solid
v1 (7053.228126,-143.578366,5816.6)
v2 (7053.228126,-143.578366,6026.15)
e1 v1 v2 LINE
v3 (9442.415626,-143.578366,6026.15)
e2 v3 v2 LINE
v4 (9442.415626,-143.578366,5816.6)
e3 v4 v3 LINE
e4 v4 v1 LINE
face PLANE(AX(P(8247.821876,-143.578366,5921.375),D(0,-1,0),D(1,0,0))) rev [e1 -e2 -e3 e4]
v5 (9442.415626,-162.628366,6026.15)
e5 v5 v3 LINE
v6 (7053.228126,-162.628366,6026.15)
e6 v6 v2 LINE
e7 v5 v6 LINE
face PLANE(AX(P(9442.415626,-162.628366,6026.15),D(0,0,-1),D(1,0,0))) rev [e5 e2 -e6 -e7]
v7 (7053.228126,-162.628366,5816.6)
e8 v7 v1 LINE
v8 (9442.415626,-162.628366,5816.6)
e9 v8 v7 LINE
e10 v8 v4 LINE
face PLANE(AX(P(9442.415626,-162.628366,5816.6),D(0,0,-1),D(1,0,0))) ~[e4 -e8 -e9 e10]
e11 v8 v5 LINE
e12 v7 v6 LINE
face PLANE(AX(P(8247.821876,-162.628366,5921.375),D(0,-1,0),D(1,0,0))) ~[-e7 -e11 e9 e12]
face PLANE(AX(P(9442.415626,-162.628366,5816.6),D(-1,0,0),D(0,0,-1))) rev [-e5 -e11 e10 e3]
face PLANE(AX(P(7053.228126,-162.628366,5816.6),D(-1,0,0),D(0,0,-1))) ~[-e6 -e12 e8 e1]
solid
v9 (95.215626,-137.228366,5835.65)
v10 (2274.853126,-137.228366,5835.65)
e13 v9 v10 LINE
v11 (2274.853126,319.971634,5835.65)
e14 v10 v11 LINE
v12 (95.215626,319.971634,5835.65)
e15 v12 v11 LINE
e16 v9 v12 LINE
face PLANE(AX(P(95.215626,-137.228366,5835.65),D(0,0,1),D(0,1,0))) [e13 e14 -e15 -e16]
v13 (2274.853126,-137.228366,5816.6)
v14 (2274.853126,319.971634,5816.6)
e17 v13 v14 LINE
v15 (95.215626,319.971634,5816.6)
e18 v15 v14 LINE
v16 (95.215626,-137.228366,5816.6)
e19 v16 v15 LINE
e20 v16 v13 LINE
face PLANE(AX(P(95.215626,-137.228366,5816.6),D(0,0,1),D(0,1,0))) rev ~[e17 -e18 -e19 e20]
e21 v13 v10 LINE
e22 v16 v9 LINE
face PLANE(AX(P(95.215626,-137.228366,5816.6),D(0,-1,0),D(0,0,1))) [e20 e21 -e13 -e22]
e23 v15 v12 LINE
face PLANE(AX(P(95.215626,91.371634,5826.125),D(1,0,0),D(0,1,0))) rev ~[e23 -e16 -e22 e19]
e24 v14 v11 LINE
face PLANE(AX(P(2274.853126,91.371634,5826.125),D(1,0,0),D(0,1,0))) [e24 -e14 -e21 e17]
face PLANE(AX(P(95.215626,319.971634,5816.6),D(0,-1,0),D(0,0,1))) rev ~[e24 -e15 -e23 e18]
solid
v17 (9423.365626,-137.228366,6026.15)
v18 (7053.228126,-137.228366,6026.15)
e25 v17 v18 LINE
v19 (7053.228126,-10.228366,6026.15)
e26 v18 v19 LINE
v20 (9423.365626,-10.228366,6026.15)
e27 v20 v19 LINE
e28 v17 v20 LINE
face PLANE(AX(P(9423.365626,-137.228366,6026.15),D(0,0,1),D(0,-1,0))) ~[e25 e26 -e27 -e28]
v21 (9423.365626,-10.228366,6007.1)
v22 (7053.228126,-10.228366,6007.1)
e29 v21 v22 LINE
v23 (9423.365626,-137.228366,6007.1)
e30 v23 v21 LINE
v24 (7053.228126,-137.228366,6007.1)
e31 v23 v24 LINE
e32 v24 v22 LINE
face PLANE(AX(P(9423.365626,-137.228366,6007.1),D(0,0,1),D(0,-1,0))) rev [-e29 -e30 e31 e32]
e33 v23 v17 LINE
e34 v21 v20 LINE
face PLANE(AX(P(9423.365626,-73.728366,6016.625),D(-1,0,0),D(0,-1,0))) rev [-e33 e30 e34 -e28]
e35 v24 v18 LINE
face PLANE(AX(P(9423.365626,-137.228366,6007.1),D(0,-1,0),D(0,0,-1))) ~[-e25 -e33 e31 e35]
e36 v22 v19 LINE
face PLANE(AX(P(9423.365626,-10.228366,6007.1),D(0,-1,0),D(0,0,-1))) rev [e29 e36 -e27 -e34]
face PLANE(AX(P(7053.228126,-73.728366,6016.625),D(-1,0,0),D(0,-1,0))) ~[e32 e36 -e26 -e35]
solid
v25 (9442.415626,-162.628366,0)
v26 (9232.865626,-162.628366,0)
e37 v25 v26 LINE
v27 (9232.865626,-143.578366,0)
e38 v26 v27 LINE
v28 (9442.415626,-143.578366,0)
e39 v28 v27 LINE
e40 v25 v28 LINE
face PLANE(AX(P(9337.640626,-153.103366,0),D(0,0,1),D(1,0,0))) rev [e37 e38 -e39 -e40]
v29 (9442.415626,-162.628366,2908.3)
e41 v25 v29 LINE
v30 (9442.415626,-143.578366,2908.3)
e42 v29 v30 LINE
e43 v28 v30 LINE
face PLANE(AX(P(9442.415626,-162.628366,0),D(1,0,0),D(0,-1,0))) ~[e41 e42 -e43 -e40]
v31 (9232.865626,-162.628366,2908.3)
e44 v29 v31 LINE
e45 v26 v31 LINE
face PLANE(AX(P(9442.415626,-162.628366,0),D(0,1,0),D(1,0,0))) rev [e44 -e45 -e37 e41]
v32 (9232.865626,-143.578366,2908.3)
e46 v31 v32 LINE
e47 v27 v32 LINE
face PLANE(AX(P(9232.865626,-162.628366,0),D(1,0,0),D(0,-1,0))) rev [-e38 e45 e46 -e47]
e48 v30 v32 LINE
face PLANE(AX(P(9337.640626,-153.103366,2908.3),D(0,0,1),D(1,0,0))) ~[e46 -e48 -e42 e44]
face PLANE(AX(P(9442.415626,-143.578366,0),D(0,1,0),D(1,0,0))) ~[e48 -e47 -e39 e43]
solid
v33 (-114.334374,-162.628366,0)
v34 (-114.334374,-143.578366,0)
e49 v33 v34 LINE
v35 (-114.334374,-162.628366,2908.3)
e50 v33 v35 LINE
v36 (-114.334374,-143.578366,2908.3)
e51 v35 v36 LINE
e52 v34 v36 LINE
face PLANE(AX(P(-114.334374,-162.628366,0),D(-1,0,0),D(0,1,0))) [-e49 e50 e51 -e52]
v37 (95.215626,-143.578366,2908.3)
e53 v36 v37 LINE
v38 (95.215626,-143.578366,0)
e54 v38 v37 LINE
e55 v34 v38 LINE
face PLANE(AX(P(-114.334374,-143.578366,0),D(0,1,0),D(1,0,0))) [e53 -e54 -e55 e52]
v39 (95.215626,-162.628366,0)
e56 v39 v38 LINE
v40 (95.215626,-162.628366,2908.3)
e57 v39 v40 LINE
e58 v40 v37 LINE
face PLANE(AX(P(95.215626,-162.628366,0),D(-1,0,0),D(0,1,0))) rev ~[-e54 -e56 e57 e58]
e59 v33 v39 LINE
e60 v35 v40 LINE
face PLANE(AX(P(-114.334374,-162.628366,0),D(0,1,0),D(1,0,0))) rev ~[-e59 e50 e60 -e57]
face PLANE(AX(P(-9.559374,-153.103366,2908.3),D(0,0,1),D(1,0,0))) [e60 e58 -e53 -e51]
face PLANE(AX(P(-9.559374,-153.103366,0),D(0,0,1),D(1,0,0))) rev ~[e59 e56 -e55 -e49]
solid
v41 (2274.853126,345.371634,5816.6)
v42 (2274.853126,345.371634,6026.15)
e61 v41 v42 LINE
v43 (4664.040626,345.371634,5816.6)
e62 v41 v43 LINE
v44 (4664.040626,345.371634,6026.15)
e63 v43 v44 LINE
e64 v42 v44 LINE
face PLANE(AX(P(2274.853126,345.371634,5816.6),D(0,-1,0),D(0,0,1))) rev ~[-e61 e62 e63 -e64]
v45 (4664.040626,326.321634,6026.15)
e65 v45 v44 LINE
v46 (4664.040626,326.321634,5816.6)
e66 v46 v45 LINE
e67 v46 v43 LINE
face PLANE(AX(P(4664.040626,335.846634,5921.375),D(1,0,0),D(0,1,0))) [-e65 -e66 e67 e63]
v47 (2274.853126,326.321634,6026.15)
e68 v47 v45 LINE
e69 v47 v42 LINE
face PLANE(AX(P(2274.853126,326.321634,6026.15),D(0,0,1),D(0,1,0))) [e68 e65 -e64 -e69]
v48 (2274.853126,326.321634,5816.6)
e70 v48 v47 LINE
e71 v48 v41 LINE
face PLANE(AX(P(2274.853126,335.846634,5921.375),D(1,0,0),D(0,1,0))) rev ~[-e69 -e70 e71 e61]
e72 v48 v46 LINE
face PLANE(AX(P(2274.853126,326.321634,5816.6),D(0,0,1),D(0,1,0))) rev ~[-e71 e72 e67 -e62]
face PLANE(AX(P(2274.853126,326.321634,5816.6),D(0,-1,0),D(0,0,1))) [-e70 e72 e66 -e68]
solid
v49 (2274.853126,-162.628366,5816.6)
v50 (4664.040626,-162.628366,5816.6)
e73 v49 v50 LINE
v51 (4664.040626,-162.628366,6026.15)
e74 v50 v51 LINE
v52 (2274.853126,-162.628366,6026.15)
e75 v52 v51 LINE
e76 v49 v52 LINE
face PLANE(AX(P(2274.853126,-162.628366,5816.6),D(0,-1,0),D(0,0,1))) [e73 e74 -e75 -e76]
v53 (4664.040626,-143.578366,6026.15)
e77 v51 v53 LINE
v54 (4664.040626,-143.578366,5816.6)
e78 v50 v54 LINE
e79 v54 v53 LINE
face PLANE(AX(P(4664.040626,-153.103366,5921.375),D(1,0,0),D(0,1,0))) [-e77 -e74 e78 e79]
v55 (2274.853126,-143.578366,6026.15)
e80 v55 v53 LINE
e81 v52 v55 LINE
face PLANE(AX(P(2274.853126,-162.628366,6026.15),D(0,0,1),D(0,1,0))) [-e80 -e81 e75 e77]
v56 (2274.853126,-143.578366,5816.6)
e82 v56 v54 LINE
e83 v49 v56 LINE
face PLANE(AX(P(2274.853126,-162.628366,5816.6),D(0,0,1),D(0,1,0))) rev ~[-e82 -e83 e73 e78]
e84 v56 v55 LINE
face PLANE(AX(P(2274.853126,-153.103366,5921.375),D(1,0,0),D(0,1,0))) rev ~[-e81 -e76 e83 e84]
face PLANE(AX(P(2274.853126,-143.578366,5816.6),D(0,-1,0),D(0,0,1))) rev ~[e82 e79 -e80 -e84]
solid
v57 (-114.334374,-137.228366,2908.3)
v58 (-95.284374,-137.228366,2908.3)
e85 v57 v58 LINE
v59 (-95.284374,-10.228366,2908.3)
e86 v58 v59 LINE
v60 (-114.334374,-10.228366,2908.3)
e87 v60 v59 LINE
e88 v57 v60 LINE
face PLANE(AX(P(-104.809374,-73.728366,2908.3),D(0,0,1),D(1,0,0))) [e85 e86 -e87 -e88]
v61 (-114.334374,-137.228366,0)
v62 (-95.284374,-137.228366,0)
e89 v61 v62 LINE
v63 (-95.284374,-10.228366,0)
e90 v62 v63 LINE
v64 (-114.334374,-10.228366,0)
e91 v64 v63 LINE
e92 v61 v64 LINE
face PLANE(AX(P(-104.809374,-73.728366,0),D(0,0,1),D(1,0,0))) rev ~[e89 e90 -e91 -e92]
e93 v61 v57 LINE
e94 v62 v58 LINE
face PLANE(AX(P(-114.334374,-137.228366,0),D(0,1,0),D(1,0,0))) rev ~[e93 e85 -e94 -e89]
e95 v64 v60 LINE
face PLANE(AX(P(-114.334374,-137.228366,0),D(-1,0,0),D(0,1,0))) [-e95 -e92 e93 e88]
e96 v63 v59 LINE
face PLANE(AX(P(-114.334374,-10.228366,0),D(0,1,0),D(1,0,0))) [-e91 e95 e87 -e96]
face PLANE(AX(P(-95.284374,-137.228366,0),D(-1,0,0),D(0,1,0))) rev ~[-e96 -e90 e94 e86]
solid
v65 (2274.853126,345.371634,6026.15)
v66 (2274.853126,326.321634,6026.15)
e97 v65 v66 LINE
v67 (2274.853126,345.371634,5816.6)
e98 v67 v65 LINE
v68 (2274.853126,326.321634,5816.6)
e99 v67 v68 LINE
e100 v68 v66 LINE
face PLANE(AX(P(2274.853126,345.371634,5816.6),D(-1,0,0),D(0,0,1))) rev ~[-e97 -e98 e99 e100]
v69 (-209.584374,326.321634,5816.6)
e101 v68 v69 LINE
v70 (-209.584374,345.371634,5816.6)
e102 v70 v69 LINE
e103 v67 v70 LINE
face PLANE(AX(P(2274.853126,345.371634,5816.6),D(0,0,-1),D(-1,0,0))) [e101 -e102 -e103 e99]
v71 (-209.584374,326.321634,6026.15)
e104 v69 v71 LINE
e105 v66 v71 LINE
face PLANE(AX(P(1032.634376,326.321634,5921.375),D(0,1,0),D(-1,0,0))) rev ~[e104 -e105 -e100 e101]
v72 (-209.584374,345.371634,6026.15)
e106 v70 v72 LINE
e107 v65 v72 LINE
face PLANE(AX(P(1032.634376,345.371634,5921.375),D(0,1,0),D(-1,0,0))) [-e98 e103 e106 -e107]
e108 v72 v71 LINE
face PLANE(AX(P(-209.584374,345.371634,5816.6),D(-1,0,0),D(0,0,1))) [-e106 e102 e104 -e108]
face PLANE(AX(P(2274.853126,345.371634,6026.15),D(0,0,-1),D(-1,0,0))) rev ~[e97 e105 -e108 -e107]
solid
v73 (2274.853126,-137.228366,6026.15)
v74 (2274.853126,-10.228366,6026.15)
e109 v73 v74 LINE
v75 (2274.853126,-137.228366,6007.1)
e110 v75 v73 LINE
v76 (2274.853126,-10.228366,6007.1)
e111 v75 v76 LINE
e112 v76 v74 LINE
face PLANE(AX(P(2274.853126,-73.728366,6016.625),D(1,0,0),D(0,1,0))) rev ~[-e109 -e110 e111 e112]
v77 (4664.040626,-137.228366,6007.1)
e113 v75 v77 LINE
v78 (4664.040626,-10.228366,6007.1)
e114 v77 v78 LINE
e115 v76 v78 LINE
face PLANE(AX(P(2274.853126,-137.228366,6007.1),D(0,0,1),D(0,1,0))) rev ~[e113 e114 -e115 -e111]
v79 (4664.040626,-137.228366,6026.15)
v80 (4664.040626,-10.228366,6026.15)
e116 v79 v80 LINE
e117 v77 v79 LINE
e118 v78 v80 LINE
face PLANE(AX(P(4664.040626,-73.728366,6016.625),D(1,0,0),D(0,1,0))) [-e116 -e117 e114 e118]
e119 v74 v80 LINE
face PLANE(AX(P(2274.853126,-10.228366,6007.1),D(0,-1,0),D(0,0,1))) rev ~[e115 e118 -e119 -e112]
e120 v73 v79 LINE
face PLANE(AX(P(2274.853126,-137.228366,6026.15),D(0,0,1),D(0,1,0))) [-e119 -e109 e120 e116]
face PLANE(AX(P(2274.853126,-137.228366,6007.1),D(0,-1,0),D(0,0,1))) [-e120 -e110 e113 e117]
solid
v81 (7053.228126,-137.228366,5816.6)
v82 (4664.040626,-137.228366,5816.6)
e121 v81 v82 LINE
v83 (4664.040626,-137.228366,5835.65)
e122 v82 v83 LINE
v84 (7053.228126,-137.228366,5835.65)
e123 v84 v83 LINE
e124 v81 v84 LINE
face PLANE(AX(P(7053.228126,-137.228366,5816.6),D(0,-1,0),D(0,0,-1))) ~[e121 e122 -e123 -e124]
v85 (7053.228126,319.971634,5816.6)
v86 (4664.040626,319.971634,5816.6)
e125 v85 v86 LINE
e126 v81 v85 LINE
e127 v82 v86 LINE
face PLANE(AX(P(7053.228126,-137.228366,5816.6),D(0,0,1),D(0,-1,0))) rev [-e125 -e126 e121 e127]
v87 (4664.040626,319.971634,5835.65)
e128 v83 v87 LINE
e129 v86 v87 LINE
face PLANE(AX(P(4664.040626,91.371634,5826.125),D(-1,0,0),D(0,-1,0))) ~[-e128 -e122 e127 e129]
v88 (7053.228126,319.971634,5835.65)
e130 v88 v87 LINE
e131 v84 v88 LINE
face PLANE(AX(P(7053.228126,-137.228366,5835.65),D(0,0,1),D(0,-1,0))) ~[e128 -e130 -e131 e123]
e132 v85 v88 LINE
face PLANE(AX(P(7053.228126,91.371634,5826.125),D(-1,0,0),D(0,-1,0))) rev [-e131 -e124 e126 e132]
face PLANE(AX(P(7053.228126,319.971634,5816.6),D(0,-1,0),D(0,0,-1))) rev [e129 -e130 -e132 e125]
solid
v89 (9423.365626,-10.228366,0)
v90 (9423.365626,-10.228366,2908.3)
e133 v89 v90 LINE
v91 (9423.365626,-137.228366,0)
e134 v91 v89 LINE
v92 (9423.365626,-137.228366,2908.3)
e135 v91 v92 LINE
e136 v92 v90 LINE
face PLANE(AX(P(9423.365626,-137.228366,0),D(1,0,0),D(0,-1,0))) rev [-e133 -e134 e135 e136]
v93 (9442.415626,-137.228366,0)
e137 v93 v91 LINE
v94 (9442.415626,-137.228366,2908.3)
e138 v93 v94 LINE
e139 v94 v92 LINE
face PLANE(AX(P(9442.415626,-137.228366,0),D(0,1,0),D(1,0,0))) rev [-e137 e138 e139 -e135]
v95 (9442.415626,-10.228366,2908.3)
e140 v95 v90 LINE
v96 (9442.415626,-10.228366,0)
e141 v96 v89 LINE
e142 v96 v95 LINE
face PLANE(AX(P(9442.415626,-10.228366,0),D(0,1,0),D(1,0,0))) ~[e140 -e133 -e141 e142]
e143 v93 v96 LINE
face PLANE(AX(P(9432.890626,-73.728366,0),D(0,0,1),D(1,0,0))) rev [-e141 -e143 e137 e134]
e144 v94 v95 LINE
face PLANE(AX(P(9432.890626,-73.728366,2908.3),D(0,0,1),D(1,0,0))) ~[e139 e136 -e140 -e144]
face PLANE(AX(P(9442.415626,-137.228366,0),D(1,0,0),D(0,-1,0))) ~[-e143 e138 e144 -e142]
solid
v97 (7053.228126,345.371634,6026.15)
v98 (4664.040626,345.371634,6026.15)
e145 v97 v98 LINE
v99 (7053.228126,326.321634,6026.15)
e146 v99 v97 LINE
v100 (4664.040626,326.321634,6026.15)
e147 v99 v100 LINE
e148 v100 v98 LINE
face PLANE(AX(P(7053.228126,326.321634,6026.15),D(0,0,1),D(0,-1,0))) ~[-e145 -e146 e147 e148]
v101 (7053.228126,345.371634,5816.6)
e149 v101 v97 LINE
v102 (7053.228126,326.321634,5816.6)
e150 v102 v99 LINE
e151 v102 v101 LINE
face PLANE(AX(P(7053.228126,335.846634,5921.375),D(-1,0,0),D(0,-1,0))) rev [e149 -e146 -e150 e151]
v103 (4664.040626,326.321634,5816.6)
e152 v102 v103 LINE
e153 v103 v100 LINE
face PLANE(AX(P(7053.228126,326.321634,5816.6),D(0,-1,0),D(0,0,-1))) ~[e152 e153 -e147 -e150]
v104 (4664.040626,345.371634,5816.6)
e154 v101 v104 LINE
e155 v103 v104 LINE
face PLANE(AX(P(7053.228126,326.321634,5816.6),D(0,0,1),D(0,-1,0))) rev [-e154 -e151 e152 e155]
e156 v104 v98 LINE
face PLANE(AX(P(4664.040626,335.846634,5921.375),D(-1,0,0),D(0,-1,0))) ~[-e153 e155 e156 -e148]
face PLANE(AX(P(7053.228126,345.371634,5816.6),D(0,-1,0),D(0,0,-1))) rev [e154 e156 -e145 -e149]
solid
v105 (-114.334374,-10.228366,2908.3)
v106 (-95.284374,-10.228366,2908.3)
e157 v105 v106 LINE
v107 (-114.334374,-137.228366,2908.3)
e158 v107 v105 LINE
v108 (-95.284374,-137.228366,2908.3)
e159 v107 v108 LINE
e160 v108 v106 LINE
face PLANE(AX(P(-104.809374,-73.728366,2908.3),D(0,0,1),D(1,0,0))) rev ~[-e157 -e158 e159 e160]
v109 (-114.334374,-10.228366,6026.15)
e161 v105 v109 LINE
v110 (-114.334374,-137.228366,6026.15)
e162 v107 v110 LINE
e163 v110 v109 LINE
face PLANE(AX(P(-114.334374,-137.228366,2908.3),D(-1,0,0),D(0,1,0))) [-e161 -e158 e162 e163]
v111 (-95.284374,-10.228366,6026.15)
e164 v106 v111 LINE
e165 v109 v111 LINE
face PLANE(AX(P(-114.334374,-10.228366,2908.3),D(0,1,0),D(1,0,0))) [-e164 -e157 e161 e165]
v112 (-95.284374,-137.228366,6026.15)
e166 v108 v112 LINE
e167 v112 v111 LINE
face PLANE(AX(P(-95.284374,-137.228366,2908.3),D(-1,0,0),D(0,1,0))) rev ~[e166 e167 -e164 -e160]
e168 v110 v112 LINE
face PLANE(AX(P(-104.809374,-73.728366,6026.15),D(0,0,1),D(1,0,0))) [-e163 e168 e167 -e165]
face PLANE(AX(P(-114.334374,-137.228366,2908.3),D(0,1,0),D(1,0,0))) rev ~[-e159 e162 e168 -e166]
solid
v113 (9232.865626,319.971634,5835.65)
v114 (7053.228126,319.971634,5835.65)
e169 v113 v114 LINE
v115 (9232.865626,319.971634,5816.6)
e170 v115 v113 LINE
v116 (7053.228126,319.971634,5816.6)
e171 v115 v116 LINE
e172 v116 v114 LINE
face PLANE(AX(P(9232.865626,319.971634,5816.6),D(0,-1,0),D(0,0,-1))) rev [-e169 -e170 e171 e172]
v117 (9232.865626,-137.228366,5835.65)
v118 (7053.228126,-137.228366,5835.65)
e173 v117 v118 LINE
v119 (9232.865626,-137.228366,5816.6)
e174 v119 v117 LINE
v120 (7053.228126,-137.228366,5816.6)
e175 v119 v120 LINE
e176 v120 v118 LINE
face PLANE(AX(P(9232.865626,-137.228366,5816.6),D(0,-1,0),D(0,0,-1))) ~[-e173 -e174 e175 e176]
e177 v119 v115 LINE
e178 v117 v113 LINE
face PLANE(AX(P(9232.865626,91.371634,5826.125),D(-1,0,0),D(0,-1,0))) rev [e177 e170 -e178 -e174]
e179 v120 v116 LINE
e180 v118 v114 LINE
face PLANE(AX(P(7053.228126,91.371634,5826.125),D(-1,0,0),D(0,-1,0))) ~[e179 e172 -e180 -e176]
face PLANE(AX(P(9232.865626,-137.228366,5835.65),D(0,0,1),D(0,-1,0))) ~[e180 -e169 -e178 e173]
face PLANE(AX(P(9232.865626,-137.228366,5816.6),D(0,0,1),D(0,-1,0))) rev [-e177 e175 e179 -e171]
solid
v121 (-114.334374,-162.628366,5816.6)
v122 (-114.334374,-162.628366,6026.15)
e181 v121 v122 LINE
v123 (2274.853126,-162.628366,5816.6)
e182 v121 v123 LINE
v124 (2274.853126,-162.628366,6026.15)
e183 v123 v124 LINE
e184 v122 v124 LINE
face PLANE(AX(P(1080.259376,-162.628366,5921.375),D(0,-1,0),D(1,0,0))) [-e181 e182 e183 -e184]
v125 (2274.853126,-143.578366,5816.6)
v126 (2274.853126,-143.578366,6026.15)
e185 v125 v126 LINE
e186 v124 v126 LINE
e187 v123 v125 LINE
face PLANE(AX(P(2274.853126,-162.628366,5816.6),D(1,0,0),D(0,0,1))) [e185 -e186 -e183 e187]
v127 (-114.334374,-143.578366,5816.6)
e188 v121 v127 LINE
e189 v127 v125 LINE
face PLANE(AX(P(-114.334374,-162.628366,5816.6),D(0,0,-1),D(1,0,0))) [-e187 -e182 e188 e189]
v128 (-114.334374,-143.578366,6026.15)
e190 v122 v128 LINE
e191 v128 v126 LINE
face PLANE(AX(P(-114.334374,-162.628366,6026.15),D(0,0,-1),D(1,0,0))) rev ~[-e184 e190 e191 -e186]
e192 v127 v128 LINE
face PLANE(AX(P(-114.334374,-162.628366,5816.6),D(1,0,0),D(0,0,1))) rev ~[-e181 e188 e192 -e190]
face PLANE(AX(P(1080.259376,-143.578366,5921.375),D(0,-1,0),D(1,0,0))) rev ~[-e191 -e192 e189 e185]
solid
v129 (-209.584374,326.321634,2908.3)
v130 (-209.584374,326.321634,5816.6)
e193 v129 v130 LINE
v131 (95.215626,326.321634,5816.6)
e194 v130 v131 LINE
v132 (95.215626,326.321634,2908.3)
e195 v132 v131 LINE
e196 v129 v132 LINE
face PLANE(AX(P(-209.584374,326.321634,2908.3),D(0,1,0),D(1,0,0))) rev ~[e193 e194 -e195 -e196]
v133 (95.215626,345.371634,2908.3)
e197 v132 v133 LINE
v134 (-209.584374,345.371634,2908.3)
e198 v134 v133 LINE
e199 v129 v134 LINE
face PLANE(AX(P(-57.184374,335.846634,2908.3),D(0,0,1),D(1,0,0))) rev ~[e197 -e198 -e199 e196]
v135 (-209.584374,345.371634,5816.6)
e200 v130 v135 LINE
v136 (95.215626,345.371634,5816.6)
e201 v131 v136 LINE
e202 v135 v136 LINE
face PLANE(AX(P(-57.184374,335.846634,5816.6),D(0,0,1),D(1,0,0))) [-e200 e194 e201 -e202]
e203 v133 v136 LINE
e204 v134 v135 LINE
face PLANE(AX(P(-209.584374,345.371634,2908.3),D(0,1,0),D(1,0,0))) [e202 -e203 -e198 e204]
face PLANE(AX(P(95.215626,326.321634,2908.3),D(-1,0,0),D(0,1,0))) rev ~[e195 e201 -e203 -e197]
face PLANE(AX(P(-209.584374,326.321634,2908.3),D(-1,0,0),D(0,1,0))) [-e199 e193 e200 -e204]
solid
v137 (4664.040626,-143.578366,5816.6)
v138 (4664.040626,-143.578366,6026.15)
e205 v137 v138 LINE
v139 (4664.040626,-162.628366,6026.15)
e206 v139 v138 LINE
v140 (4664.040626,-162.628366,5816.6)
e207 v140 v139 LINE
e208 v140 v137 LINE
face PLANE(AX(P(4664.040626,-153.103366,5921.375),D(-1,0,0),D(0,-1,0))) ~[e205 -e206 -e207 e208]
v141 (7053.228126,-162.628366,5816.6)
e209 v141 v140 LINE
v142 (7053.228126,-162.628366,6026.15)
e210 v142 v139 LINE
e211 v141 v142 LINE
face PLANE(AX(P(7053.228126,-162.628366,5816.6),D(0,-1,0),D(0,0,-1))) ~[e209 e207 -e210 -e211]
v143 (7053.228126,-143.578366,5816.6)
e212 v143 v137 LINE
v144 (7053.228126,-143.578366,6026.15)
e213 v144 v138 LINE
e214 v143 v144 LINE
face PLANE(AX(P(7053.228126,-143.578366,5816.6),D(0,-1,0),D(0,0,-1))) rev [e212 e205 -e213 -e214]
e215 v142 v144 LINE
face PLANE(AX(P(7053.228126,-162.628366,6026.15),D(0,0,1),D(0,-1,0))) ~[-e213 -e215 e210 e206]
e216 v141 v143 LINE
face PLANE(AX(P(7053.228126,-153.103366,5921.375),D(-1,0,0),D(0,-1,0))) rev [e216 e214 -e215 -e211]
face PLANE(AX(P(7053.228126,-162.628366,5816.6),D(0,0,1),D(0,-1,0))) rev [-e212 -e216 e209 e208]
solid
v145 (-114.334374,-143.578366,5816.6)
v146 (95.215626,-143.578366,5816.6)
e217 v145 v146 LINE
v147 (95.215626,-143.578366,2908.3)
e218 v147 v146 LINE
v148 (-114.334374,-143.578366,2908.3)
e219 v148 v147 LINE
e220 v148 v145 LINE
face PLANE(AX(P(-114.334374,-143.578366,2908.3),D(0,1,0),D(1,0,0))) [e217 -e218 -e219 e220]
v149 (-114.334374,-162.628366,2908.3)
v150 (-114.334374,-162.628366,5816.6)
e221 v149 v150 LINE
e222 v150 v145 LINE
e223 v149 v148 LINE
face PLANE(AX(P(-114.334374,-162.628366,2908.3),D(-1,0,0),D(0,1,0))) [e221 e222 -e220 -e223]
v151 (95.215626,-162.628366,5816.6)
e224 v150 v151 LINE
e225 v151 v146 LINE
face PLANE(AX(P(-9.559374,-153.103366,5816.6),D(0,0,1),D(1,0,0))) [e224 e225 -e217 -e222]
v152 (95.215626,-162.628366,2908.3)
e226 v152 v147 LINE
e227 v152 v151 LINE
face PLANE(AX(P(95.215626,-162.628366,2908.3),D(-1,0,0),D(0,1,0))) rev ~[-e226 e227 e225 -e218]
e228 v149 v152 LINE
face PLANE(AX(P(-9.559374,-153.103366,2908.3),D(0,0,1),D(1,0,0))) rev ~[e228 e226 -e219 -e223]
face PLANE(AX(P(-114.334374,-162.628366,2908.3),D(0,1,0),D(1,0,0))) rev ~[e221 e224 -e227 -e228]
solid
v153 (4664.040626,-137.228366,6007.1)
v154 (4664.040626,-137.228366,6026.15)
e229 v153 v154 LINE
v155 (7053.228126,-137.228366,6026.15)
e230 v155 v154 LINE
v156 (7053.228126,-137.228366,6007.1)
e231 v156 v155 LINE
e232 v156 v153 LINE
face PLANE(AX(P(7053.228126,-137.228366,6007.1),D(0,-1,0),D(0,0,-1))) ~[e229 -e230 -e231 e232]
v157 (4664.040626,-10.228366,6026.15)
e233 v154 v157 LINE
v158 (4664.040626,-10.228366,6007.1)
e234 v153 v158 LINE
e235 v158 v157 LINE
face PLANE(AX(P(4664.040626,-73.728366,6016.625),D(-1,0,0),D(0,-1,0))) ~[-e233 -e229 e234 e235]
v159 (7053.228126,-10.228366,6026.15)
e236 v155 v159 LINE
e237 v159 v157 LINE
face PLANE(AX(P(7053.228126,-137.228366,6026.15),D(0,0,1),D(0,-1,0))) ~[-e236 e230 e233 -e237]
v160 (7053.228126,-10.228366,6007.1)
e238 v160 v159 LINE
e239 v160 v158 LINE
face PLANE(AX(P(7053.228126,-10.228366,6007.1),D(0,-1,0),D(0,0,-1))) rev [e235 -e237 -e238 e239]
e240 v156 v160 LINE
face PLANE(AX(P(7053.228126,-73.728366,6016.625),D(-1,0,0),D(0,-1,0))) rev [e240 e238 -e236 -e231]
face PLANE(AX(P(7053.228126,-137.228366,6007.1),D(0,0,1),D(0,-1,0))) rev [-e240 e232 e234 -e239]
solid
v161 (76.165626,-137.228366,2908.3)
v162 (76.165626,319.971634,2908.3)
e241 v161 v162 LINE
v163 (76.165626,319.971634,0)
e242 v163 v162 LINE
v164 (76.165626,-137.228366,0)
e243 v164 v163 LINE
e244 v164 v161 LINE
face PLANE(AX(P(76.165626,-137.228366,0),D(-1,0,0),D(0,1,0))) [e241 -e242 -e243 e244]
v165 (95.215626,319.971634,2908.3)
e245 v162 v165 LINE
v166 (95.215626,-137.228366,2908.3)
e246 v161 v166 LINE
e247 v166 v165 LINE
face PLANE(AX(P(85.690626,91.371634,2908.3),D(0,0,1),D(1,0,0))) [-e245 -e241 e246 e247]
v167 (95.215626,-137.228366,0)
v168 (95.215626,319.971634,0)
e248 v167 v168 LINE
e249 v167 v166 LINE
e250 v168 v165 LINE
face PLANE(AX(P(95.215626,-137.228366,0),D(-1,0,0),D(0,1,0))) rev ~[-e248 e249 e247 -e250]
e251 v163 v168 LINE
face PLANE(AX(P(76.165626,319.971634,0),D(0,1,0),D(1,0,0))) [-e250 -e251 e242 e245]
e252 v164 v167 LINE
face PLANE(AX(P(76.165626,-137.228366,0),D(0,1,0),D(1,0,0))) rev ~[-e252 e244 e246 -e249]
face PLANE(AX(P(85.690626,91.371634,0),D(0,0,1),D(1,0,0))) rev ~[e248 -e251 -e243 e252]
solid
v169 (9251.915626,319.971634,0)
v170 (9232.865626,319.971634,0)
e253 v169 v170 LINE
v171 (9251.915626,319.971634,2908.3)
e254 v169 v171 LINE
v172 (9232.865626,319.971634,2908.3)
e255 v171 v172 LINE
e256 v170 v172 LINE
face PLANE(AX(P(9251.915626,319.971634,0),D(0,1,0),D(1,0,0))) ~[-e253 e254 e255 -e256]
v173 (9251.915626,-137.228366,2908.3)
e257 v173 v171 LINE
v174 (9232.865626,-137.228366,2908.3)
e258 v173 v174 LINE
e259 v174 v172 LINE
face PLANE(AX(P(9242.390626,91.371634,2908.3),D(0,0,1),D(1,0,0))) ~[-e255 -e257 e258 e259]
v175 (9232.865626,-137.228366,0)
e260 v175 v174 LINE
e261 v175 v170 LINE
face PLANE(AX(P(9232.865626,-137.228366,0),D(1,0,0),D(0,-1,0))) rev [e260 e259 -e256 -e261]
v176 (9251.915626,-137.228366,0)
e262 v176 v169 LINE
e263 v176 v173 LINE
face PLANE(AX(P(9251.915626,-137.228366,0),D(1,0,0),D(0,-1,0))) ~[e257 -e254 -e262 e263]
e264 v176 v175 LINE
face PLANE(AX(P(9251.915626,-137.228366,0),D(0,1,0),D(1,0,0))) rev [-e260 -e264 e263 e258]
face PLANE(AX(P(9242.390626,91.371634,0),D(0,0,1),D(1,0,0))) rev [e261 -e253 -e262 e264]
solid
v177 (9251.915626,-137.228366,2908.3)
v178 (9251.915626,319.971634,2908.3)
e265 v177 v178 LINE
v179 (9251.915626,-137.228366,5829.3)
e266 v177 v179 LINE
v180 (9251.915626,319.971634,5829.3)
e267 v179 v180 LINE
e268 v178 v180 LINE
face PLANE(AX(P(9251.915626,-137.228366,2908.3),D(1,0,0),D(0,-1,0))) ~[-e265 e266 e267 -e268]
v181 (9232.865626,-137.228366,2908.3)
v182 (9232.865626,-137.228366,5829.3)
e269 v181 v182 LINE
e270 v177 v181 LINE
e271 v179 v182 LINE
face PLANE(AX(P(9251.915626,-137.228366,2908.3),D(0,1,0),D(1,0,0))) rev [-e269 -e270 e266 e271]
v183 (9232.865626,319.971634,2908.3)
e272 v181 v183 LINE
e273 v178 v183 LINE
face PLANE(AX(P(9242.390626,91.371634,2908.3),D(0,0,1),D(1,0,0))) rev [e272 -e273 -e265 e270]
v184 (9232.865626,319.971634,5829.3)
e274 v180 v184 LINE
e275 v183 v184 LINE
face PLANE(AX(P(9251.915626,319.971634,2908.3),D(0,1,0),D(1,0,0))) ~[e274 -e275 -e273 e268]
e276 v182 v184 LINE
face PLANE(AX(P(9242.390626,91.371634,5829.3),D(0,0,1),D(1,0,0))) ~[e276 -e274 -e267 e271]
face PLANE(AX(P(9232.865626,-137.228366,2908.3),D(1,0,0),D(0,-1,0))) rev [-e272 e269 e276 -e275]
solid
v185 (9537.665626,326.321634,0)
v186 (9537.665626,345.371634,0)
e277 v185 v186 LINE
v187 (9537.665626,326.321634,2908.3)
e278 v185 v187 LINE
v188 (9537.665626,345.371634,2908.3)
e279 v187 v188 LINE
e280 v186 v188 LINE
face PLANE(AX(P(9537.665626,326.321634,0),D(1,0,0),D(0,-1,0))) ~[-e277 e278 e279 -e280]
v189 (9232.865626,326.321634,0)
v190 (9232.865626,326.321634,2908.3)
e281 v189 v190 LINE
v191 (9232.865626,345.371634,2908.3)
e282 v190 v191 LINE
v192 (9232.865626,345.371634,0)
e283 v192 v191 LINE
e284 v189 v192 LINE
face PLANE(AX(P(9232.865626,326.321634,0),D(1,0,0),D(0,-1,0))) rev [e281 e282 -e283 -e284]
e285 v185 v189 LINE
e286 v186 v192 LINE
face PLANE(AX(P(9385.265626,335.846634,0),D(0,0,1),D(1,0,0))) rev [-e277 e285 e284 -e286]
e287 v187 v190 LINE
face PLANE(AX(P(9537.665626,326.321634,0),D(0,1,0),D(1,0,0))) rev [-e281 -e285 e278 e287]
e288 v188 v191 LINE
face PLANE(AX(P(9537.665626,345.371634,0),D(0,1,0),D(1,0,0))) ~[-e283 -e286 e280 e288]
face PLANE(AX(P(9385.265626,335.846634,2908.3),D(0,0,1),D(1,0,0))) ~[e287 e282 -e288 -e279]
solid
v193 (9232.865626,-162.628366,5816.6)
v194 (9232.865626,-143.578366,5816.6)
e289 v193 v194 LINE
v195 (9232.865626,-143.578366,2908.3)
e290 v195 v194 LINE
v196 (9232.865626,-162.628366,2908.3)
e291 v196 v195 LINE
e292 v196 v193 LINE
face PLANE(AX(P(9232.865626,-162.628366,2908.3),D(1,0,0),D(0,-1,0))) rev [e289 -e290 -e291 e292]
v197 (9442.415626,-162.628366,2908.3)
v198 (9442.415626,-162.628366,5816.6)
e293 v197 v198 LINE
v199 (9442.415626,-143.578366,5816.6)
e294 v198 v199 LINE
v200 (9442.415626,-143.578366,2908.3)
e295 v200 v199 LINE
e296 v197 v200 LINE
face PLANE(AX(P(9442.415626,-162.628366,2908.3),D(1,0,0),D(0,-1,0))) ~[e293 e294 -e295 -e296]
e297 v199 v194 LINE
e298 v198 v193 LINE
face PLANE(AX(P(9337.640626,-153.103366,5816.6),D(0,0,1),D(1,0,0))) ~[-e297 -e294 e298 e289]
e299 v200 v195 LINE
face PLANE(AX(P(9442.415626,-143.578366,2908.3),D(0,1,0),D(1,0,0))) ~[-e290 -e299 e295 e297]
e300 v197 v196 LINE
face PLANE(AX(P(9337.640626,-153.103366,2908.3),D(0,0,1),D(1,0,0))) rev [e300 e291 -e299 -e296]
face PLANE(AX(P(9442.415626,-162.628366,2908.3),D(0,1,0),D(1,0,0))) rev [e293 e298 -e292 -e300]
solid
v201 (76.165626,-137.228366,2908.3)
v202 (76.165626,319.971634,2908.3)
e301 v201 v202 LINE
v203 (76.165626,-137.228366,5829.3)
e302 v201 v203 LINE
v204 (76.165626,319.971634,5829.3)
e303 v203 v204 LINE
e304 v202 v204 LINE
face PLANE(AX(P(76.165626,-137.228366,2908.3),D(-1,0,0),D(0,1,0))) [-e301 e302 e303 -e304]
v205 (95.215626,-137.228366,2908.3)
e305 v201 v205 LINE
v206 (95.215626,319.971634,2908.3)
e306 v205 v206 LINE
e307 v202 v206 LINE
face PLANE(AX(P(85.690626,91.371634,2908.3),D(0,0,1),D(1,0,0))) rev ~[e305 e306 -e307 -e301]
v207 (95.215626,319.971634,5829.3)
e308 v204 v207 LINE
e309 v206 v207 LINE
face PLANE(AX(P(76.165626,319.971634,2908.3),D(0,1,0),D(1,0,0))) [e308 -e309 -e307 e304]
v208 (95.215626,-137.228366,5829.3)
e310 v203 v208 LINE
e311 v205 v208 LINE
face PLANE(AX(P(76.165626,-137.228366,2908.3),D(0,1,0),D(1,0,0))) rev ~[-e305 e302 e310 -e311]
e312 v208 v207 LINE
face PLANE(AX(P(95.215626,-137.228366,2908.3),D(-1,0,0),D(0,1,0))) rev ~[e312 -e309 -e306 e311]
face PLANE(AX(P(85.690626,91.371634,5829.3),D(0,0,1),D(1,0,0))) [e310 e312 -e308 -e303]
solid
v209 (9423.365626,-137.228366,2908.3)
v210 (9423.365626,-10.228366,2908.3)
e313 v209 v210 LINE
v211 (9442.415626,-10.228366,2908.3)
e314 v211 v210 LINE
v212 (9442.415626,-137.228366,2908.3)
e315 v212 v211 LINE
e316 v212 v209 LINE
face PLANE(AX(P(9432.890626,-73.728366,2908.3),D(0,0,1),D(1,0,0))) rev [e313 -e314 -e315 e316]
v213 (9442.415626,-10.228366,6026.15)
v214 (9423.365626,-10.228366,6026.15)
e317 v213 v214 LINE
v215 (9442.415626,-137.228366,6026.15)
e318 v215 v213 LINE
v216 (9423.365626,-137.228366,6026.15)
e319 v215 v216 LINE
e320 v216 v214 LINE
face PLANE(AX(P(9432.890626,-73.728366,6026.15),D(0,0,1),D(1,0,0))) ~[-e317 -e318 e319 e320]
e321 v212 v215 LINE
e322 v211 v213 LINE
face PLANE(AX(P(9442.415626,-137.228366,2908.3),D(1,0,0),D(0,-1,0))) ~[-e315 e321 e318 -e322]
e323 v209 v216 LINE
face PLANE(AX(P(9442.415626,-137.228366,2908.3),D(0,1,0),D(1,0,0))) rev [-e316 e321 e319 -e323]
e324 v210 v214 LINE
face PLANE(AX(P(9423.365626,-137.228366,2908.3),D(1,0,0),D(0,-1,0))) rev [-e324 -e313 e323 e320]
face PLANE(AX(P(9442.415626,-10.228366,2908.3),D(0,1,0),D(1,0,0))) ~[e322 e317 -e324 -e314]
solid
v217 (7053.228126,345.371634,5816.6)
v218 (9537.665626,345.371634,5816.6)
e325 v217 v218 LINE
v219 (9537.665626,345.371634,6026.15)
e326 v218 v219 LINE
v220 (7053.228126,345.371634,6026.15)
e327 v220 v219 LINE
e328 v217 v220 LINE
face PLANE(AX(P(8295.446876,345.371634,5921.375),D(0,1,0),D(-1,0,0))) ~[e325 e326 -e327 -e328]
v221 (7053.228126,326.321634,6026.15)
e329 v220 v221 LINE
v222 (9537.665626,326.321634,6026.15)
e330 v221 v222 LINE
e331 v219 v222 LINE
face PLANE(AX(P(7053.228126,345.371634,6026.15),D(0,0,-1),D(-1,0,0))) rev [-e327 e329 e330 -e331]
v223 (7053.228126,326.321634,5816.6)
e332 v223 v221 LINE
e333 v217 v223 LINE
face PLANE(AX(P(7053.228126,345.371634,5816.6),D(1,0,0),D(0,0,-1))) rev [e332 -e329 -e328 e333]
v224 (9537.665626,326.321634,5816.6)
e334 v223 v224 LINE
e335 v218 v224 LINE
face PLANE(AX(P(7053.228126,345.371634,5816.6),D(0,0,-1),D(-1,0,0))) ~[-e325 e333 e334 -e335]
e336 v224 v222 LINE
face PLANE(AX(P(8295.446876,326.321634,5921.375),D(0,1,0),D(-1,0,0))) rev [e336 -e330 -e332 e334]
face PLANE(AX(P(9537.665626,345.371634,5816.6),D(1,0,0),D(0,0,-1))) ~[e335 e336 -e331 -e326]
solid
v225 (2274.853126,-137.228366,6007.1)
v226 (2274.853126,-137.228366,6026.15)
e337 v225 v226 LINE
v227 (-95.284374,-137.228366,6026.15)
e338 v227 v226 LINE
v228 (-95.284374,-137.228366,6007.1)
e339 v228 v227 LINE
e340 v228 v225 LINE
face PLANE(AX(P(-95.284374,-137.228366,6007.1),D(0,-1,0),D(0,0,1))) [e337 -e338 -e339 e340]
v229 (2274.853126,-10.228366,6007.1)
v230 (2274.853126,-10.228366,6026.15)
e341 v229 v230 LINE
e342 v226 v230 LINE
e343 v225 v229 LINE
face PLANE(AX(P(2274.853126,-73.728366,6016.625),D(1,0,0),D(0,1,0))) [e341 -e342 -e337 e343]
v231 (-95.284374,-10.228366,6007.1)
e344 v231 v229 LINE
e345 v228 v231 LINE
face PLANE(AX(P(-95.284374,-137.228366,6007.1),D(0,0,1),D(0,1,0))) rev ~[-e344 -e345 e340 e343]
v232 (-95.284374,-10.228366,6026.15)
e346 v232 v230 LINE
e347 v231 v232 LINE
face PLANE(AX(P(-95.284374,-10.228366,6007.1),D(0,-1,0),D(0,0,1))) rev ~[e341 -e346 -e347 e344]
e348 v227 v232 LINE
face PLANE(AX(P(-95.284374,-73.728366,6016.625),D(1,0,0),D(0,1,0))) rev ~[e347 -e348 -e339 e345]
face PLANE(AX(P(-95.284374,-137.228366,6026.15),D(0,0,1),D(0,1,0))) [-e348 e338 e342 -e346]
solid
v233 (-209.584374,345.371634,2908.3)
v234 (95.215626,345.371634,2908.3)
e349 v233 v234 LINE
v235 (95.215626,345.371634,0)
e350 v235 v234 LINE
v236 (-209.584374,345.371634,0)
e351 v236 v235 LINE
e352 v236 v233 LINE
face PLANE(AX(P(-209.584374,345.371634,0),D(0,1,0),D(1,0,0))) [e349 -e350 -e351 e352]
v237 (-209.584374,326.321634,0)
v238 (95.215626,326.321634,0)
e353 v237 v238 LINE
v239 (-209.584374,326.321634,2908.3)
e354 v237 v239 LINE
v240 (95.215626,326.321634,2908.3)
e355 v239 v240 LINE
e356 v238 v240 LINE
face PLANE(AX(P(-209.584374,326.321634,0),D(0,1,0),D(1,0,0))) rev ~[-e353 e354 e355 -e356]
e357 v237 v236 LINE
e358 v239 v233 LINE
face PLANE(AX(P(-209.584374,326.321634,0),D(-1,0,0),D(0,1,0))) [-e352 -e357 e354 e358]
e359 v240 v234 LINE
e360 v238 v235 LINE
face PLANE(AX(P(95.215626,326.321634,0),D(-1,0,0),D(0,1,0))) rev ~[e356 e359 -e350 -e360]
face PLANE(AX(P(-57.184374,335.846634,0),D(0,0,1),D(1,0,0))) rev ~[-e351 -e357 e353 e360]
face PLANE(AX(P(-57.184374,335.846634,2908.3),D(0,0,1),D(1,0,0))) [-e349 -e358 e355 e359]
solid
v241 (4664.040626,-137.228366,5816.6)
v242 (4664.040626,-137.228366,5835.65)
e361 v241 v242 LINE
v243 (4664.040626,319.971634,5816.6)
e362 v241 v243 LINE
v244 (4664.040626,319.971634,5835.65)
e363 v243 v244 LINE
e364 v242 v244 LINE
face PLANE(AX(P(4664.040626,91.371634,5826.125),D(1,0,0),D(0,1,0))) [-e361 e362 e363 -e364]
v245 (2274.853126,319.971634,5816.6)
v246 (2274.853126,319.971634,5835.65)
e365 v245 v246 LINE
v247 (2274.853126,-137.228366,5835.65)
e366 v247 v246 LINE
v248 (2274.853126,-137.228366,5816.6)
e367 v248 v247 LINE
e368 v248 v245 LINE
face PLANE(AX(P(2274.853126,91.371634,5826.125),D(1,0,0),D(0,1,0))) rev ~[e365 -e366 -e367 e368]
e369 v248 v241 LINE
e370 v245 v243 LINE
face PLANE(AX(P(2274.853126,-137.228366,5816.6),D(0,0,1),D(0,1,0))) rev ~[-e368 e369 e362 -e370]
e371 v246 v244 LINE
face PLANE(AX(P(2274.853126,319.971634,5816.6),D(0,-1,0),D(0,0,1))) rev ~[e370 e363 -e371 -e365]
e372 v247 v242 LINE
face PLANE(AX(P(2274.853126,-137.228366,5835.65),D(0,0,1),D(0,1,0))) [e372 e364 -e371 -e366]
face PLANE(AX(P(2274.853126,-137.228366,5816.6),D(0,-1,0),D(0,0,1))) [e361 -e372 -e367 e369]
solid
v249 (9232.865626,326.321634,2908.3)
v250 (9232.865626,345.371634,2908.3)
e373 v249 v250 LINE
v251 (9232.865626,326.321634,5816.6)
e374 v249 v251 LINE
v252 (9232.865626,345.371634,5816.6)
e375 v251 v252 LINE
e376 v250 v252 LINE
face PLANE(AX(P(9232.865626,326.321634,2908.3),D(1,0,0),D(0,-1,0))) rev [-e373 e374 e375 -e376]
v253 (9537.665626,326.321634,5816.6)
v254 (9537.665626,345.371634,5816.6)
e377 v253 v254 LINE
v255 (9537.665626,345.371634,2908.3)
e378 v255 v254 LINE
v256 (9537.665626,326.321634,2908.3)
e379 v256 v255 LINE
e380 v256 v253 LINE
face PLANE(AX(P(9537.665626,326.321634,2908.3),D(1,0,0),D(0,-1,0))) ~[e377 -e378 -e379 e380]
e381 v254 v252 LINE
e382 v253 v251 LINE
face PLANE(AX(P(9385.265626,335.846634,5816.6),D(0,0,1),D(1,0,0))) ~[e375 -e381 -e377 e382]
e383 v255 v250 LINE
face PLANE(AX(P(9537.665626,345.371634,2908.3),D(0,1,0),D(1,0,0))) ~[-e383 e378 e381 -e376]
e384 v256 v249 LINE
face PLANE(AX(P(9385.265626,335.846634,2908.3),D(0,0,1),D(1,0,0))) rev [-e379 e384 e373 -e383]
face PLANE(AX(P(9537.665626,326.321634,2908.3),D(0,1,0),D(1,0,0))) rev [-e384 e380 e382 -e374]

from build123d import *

# Parameters (mm, degrees)
F0_W      = 19.05
F0_H      = 127
F0_W_2    = 209.55
F0_H_2    = 19.05
F0_H_3    = 457.2
F0_W_3    = 304.8
F1_DEPTH  = 2908.3
F2_W      = 209.55
F2_H      = 19.05
F2_W_2    = 304.8
F3_DEPTH  = 2908.3
F4_W      = 19.05
F4_H      = 127
F5_DEPTH  = 3117.85
F6_W      = 19.05
F6_H      = 457.2
F7_DEPTH  = 2921
F9_W      = 127
F9_H      = 19.05
F10_DEPTH = 2370.1375
F11_W     = 2389.1875
F11_H     = 209.55
F12_DEPTH = 19.05
F13_W     = 457.2
F13_H     = 19.05
F14_DEPTH = 2179.6375
F15_W     = 2484.4375
F15_H     = 209.55
F16_DEPTH = 19.05
F17_W     = 127
F17_H     = 19.05
F17_W_2   = 457.2
F17_W_3   = 19.05
F17_H_2   = 209.55
F18_DEPTH = 2389.1875


with BuildPart() as f1:
    # F0 (on Top) → F1 (new body)
    with BuildSketch(Plane.XY):
        with Locations((-104.809374, -73.728366)):
            Rectangle(F0_W, F0_H)
        with Locations((-9.559374, -153.103366)):
            Rectangle(F0_W_2, F0_H_2)
        with Locations((85.690626, 91.371634)):
            Rectangle(F0_W, F0_H_3)
        with Locations((-57.184374, 335.846634)):
            Rectangle(F0_W_3, F0_H_2)
    extrude(amount=F1_DEPTH)


with BuildPart() as f3:
    # F2 (on face) → F3 (new body)
    with BuildSketch(Plane.XY.offset(2908.3)):
        with Locations((-9.559374, -153.103366)):
            Rectangle(F2_W, F2_H)
        with Locations((-57.184374, 335.846634)):
            Rectangle(F2_W_2, F2_H)
    extrude(amount=F3_DEPTH)


with BuildPart() as f5:
    # F4 (on face) → F5 (new body)
    with BuildSketch(Plane.XY.offset(2908.3)):
        with Locations((-104.809374, -73.728366)):
            Rectangle(F4_W, F4_H)
    extrude(amount=F5_DEPTH)


with BuildPart() as f7:
    # F6 (on face) → F7 (new body)
    with BuildSketch(Plane.XY.offset(2908.3)):
        with Locations((85.690626, 91.371634)):
            Rectangle(F6_W, F6_H)
    extrude(amount=F7_DEPTH)


with BuildPart() as f10:
    # F9 (on face) → F10 (new body, through all)
    with BuildSketch(Plane.YZ.offset(-95.284374)):
        with Locations((-73.728366, 6016.625)):
            Rectangle(F9_W, F9_H)
    extrude(amount=F10_DEPTH)


with BuildPart() as f12:
    # F11 (on face) → F12 (new body)
    with BuildSketch(Plane.XZ.offset(162.628366)):
        with Locations((1080.259376, 5921.375)):
            Rectangle(F11_W, F11_H)
    extrude(amount=-F12_DEPTH)


with BuildPart() as f14:
    # F13 (on face) → F14 (new body, through all)
    with BuildSketch(Plane.YZ.offset(95.215626)):
        with Locations((91.371634, 5826.125)):
            Rectangle(F13_W, F13_H)
    extrude(amount=F14_DEPTH)


with BuildPart() as f16:
    # F15 (on face) → F16 (new body)
    with BuildSketch(Plane(origin=(0, 345.371634, 0), x_dir=(-1, 0, 0), z_dir=(0, 1, 0))):
        with Locations((-1032.634376, 5921.375)):
            Rectangle(F15_W, F15_H)
    extrude(amount=-F16_DEPTH)


with BuildPart() as f18:
    # F17 (on face) → F18 (new body)
    with BuildSketch(Plane.YZ.offset(2274.853126)):
        with Locations((-73.728366, 6016.625)):
            Rectangle(F17_W, F17_H)
        with Locations((91.371634, 5826.125)):
            Rectangle(F17_W_2, F17_H)
        with Locations((335.846634, 5921.375)):
            Rectangle(F17_W_3, F17_H_2)
        with Locations((-153.103366, 5921.375)):
            Rectangle(F17_W_3, F17_H_2)
    extrude(amount=F18_DEPTH)


with BuildPart() as f19_1:
    # F19: instance of F10
    add(f10.part.mirror(Plane(origin=(4664.040626, -153.103366, 5921.375), x_dir=(0, 1, 0), z_dir=(1, 0, 0))))


with BuildPart() as f19_2:
    # F19: instance of F14
    add(f14.part.mirror(Plane(origin=(4664.040626, -153.103366, 5921.375), x_dir=(0, 1, 0), z_dir=(1, 0, 0))))


with BuildPart() as f19_3:
    # F19: instance of F3
    add(f3.part.mirror(Plane(origin=(4664.040626, -153.103366, 5921.375), x_dir=(0, 1, 0), z_dir=(1, 0, 0))))


with BuildPart() as f19_4:
    # F19: instance of F16
    add(f16.part.mirror(Plane(origin=(4664.040626, -153.103366, 5921.375), x_dir=(0, 1, 0), z_dir=(1, 0, 0))))


with BuildPart() as f19_5:
    # F19: instance of F12
    add(f12.part.mirror(Plane(origin=(4664.040626, -153.103366, 5921.375), x_dir=(0, 1, 0), z_dir=(1, 0, 0))))


with BuildPart() as f19_6:
    # F19: instance of F5
    add(f5.part.mirror(Plane(origin=(4664.040626, -153.103366, 5921.375), x_dir=(0, 1, 0), z_dir=(1, 0, 0))))


with BuildPart() as f19_7:
    # F19: instance of F1
    add(f1.part.mirror(Plane(origin=(4664.040626, -153.103366, 5921.375), x_dir=(0, 1, 0), z_dir=(1, 0, 0))))


with BuildPart() as f19_8:
    # F19: instance of F7
    add(f7.part.mirror(Plane(origin=(4664.040626, -153.103366, 5921.375), x_dir=(0, 1, 0), z_dir=(1, 0, 0))))


with BuildPart() as f19_9:
    # F19: instance of F18
    add(f18.part.mirror(Plane(origin=(4664.040626, -153.103366, 5921.375), x_dir=(0, 1, 0), z_dir=(1, 0, 0))))


solid = Compound([f1.part, f3.part, f5.part, f7.part, f10.part, f12.part, f14.part, f16.part, f18.part, f19_1.part, f19_2.part, f19_3.part, f19_4.part, f19_5.part, f19_6.part, f19_7.part, f19_8.part, f19_9.part])
